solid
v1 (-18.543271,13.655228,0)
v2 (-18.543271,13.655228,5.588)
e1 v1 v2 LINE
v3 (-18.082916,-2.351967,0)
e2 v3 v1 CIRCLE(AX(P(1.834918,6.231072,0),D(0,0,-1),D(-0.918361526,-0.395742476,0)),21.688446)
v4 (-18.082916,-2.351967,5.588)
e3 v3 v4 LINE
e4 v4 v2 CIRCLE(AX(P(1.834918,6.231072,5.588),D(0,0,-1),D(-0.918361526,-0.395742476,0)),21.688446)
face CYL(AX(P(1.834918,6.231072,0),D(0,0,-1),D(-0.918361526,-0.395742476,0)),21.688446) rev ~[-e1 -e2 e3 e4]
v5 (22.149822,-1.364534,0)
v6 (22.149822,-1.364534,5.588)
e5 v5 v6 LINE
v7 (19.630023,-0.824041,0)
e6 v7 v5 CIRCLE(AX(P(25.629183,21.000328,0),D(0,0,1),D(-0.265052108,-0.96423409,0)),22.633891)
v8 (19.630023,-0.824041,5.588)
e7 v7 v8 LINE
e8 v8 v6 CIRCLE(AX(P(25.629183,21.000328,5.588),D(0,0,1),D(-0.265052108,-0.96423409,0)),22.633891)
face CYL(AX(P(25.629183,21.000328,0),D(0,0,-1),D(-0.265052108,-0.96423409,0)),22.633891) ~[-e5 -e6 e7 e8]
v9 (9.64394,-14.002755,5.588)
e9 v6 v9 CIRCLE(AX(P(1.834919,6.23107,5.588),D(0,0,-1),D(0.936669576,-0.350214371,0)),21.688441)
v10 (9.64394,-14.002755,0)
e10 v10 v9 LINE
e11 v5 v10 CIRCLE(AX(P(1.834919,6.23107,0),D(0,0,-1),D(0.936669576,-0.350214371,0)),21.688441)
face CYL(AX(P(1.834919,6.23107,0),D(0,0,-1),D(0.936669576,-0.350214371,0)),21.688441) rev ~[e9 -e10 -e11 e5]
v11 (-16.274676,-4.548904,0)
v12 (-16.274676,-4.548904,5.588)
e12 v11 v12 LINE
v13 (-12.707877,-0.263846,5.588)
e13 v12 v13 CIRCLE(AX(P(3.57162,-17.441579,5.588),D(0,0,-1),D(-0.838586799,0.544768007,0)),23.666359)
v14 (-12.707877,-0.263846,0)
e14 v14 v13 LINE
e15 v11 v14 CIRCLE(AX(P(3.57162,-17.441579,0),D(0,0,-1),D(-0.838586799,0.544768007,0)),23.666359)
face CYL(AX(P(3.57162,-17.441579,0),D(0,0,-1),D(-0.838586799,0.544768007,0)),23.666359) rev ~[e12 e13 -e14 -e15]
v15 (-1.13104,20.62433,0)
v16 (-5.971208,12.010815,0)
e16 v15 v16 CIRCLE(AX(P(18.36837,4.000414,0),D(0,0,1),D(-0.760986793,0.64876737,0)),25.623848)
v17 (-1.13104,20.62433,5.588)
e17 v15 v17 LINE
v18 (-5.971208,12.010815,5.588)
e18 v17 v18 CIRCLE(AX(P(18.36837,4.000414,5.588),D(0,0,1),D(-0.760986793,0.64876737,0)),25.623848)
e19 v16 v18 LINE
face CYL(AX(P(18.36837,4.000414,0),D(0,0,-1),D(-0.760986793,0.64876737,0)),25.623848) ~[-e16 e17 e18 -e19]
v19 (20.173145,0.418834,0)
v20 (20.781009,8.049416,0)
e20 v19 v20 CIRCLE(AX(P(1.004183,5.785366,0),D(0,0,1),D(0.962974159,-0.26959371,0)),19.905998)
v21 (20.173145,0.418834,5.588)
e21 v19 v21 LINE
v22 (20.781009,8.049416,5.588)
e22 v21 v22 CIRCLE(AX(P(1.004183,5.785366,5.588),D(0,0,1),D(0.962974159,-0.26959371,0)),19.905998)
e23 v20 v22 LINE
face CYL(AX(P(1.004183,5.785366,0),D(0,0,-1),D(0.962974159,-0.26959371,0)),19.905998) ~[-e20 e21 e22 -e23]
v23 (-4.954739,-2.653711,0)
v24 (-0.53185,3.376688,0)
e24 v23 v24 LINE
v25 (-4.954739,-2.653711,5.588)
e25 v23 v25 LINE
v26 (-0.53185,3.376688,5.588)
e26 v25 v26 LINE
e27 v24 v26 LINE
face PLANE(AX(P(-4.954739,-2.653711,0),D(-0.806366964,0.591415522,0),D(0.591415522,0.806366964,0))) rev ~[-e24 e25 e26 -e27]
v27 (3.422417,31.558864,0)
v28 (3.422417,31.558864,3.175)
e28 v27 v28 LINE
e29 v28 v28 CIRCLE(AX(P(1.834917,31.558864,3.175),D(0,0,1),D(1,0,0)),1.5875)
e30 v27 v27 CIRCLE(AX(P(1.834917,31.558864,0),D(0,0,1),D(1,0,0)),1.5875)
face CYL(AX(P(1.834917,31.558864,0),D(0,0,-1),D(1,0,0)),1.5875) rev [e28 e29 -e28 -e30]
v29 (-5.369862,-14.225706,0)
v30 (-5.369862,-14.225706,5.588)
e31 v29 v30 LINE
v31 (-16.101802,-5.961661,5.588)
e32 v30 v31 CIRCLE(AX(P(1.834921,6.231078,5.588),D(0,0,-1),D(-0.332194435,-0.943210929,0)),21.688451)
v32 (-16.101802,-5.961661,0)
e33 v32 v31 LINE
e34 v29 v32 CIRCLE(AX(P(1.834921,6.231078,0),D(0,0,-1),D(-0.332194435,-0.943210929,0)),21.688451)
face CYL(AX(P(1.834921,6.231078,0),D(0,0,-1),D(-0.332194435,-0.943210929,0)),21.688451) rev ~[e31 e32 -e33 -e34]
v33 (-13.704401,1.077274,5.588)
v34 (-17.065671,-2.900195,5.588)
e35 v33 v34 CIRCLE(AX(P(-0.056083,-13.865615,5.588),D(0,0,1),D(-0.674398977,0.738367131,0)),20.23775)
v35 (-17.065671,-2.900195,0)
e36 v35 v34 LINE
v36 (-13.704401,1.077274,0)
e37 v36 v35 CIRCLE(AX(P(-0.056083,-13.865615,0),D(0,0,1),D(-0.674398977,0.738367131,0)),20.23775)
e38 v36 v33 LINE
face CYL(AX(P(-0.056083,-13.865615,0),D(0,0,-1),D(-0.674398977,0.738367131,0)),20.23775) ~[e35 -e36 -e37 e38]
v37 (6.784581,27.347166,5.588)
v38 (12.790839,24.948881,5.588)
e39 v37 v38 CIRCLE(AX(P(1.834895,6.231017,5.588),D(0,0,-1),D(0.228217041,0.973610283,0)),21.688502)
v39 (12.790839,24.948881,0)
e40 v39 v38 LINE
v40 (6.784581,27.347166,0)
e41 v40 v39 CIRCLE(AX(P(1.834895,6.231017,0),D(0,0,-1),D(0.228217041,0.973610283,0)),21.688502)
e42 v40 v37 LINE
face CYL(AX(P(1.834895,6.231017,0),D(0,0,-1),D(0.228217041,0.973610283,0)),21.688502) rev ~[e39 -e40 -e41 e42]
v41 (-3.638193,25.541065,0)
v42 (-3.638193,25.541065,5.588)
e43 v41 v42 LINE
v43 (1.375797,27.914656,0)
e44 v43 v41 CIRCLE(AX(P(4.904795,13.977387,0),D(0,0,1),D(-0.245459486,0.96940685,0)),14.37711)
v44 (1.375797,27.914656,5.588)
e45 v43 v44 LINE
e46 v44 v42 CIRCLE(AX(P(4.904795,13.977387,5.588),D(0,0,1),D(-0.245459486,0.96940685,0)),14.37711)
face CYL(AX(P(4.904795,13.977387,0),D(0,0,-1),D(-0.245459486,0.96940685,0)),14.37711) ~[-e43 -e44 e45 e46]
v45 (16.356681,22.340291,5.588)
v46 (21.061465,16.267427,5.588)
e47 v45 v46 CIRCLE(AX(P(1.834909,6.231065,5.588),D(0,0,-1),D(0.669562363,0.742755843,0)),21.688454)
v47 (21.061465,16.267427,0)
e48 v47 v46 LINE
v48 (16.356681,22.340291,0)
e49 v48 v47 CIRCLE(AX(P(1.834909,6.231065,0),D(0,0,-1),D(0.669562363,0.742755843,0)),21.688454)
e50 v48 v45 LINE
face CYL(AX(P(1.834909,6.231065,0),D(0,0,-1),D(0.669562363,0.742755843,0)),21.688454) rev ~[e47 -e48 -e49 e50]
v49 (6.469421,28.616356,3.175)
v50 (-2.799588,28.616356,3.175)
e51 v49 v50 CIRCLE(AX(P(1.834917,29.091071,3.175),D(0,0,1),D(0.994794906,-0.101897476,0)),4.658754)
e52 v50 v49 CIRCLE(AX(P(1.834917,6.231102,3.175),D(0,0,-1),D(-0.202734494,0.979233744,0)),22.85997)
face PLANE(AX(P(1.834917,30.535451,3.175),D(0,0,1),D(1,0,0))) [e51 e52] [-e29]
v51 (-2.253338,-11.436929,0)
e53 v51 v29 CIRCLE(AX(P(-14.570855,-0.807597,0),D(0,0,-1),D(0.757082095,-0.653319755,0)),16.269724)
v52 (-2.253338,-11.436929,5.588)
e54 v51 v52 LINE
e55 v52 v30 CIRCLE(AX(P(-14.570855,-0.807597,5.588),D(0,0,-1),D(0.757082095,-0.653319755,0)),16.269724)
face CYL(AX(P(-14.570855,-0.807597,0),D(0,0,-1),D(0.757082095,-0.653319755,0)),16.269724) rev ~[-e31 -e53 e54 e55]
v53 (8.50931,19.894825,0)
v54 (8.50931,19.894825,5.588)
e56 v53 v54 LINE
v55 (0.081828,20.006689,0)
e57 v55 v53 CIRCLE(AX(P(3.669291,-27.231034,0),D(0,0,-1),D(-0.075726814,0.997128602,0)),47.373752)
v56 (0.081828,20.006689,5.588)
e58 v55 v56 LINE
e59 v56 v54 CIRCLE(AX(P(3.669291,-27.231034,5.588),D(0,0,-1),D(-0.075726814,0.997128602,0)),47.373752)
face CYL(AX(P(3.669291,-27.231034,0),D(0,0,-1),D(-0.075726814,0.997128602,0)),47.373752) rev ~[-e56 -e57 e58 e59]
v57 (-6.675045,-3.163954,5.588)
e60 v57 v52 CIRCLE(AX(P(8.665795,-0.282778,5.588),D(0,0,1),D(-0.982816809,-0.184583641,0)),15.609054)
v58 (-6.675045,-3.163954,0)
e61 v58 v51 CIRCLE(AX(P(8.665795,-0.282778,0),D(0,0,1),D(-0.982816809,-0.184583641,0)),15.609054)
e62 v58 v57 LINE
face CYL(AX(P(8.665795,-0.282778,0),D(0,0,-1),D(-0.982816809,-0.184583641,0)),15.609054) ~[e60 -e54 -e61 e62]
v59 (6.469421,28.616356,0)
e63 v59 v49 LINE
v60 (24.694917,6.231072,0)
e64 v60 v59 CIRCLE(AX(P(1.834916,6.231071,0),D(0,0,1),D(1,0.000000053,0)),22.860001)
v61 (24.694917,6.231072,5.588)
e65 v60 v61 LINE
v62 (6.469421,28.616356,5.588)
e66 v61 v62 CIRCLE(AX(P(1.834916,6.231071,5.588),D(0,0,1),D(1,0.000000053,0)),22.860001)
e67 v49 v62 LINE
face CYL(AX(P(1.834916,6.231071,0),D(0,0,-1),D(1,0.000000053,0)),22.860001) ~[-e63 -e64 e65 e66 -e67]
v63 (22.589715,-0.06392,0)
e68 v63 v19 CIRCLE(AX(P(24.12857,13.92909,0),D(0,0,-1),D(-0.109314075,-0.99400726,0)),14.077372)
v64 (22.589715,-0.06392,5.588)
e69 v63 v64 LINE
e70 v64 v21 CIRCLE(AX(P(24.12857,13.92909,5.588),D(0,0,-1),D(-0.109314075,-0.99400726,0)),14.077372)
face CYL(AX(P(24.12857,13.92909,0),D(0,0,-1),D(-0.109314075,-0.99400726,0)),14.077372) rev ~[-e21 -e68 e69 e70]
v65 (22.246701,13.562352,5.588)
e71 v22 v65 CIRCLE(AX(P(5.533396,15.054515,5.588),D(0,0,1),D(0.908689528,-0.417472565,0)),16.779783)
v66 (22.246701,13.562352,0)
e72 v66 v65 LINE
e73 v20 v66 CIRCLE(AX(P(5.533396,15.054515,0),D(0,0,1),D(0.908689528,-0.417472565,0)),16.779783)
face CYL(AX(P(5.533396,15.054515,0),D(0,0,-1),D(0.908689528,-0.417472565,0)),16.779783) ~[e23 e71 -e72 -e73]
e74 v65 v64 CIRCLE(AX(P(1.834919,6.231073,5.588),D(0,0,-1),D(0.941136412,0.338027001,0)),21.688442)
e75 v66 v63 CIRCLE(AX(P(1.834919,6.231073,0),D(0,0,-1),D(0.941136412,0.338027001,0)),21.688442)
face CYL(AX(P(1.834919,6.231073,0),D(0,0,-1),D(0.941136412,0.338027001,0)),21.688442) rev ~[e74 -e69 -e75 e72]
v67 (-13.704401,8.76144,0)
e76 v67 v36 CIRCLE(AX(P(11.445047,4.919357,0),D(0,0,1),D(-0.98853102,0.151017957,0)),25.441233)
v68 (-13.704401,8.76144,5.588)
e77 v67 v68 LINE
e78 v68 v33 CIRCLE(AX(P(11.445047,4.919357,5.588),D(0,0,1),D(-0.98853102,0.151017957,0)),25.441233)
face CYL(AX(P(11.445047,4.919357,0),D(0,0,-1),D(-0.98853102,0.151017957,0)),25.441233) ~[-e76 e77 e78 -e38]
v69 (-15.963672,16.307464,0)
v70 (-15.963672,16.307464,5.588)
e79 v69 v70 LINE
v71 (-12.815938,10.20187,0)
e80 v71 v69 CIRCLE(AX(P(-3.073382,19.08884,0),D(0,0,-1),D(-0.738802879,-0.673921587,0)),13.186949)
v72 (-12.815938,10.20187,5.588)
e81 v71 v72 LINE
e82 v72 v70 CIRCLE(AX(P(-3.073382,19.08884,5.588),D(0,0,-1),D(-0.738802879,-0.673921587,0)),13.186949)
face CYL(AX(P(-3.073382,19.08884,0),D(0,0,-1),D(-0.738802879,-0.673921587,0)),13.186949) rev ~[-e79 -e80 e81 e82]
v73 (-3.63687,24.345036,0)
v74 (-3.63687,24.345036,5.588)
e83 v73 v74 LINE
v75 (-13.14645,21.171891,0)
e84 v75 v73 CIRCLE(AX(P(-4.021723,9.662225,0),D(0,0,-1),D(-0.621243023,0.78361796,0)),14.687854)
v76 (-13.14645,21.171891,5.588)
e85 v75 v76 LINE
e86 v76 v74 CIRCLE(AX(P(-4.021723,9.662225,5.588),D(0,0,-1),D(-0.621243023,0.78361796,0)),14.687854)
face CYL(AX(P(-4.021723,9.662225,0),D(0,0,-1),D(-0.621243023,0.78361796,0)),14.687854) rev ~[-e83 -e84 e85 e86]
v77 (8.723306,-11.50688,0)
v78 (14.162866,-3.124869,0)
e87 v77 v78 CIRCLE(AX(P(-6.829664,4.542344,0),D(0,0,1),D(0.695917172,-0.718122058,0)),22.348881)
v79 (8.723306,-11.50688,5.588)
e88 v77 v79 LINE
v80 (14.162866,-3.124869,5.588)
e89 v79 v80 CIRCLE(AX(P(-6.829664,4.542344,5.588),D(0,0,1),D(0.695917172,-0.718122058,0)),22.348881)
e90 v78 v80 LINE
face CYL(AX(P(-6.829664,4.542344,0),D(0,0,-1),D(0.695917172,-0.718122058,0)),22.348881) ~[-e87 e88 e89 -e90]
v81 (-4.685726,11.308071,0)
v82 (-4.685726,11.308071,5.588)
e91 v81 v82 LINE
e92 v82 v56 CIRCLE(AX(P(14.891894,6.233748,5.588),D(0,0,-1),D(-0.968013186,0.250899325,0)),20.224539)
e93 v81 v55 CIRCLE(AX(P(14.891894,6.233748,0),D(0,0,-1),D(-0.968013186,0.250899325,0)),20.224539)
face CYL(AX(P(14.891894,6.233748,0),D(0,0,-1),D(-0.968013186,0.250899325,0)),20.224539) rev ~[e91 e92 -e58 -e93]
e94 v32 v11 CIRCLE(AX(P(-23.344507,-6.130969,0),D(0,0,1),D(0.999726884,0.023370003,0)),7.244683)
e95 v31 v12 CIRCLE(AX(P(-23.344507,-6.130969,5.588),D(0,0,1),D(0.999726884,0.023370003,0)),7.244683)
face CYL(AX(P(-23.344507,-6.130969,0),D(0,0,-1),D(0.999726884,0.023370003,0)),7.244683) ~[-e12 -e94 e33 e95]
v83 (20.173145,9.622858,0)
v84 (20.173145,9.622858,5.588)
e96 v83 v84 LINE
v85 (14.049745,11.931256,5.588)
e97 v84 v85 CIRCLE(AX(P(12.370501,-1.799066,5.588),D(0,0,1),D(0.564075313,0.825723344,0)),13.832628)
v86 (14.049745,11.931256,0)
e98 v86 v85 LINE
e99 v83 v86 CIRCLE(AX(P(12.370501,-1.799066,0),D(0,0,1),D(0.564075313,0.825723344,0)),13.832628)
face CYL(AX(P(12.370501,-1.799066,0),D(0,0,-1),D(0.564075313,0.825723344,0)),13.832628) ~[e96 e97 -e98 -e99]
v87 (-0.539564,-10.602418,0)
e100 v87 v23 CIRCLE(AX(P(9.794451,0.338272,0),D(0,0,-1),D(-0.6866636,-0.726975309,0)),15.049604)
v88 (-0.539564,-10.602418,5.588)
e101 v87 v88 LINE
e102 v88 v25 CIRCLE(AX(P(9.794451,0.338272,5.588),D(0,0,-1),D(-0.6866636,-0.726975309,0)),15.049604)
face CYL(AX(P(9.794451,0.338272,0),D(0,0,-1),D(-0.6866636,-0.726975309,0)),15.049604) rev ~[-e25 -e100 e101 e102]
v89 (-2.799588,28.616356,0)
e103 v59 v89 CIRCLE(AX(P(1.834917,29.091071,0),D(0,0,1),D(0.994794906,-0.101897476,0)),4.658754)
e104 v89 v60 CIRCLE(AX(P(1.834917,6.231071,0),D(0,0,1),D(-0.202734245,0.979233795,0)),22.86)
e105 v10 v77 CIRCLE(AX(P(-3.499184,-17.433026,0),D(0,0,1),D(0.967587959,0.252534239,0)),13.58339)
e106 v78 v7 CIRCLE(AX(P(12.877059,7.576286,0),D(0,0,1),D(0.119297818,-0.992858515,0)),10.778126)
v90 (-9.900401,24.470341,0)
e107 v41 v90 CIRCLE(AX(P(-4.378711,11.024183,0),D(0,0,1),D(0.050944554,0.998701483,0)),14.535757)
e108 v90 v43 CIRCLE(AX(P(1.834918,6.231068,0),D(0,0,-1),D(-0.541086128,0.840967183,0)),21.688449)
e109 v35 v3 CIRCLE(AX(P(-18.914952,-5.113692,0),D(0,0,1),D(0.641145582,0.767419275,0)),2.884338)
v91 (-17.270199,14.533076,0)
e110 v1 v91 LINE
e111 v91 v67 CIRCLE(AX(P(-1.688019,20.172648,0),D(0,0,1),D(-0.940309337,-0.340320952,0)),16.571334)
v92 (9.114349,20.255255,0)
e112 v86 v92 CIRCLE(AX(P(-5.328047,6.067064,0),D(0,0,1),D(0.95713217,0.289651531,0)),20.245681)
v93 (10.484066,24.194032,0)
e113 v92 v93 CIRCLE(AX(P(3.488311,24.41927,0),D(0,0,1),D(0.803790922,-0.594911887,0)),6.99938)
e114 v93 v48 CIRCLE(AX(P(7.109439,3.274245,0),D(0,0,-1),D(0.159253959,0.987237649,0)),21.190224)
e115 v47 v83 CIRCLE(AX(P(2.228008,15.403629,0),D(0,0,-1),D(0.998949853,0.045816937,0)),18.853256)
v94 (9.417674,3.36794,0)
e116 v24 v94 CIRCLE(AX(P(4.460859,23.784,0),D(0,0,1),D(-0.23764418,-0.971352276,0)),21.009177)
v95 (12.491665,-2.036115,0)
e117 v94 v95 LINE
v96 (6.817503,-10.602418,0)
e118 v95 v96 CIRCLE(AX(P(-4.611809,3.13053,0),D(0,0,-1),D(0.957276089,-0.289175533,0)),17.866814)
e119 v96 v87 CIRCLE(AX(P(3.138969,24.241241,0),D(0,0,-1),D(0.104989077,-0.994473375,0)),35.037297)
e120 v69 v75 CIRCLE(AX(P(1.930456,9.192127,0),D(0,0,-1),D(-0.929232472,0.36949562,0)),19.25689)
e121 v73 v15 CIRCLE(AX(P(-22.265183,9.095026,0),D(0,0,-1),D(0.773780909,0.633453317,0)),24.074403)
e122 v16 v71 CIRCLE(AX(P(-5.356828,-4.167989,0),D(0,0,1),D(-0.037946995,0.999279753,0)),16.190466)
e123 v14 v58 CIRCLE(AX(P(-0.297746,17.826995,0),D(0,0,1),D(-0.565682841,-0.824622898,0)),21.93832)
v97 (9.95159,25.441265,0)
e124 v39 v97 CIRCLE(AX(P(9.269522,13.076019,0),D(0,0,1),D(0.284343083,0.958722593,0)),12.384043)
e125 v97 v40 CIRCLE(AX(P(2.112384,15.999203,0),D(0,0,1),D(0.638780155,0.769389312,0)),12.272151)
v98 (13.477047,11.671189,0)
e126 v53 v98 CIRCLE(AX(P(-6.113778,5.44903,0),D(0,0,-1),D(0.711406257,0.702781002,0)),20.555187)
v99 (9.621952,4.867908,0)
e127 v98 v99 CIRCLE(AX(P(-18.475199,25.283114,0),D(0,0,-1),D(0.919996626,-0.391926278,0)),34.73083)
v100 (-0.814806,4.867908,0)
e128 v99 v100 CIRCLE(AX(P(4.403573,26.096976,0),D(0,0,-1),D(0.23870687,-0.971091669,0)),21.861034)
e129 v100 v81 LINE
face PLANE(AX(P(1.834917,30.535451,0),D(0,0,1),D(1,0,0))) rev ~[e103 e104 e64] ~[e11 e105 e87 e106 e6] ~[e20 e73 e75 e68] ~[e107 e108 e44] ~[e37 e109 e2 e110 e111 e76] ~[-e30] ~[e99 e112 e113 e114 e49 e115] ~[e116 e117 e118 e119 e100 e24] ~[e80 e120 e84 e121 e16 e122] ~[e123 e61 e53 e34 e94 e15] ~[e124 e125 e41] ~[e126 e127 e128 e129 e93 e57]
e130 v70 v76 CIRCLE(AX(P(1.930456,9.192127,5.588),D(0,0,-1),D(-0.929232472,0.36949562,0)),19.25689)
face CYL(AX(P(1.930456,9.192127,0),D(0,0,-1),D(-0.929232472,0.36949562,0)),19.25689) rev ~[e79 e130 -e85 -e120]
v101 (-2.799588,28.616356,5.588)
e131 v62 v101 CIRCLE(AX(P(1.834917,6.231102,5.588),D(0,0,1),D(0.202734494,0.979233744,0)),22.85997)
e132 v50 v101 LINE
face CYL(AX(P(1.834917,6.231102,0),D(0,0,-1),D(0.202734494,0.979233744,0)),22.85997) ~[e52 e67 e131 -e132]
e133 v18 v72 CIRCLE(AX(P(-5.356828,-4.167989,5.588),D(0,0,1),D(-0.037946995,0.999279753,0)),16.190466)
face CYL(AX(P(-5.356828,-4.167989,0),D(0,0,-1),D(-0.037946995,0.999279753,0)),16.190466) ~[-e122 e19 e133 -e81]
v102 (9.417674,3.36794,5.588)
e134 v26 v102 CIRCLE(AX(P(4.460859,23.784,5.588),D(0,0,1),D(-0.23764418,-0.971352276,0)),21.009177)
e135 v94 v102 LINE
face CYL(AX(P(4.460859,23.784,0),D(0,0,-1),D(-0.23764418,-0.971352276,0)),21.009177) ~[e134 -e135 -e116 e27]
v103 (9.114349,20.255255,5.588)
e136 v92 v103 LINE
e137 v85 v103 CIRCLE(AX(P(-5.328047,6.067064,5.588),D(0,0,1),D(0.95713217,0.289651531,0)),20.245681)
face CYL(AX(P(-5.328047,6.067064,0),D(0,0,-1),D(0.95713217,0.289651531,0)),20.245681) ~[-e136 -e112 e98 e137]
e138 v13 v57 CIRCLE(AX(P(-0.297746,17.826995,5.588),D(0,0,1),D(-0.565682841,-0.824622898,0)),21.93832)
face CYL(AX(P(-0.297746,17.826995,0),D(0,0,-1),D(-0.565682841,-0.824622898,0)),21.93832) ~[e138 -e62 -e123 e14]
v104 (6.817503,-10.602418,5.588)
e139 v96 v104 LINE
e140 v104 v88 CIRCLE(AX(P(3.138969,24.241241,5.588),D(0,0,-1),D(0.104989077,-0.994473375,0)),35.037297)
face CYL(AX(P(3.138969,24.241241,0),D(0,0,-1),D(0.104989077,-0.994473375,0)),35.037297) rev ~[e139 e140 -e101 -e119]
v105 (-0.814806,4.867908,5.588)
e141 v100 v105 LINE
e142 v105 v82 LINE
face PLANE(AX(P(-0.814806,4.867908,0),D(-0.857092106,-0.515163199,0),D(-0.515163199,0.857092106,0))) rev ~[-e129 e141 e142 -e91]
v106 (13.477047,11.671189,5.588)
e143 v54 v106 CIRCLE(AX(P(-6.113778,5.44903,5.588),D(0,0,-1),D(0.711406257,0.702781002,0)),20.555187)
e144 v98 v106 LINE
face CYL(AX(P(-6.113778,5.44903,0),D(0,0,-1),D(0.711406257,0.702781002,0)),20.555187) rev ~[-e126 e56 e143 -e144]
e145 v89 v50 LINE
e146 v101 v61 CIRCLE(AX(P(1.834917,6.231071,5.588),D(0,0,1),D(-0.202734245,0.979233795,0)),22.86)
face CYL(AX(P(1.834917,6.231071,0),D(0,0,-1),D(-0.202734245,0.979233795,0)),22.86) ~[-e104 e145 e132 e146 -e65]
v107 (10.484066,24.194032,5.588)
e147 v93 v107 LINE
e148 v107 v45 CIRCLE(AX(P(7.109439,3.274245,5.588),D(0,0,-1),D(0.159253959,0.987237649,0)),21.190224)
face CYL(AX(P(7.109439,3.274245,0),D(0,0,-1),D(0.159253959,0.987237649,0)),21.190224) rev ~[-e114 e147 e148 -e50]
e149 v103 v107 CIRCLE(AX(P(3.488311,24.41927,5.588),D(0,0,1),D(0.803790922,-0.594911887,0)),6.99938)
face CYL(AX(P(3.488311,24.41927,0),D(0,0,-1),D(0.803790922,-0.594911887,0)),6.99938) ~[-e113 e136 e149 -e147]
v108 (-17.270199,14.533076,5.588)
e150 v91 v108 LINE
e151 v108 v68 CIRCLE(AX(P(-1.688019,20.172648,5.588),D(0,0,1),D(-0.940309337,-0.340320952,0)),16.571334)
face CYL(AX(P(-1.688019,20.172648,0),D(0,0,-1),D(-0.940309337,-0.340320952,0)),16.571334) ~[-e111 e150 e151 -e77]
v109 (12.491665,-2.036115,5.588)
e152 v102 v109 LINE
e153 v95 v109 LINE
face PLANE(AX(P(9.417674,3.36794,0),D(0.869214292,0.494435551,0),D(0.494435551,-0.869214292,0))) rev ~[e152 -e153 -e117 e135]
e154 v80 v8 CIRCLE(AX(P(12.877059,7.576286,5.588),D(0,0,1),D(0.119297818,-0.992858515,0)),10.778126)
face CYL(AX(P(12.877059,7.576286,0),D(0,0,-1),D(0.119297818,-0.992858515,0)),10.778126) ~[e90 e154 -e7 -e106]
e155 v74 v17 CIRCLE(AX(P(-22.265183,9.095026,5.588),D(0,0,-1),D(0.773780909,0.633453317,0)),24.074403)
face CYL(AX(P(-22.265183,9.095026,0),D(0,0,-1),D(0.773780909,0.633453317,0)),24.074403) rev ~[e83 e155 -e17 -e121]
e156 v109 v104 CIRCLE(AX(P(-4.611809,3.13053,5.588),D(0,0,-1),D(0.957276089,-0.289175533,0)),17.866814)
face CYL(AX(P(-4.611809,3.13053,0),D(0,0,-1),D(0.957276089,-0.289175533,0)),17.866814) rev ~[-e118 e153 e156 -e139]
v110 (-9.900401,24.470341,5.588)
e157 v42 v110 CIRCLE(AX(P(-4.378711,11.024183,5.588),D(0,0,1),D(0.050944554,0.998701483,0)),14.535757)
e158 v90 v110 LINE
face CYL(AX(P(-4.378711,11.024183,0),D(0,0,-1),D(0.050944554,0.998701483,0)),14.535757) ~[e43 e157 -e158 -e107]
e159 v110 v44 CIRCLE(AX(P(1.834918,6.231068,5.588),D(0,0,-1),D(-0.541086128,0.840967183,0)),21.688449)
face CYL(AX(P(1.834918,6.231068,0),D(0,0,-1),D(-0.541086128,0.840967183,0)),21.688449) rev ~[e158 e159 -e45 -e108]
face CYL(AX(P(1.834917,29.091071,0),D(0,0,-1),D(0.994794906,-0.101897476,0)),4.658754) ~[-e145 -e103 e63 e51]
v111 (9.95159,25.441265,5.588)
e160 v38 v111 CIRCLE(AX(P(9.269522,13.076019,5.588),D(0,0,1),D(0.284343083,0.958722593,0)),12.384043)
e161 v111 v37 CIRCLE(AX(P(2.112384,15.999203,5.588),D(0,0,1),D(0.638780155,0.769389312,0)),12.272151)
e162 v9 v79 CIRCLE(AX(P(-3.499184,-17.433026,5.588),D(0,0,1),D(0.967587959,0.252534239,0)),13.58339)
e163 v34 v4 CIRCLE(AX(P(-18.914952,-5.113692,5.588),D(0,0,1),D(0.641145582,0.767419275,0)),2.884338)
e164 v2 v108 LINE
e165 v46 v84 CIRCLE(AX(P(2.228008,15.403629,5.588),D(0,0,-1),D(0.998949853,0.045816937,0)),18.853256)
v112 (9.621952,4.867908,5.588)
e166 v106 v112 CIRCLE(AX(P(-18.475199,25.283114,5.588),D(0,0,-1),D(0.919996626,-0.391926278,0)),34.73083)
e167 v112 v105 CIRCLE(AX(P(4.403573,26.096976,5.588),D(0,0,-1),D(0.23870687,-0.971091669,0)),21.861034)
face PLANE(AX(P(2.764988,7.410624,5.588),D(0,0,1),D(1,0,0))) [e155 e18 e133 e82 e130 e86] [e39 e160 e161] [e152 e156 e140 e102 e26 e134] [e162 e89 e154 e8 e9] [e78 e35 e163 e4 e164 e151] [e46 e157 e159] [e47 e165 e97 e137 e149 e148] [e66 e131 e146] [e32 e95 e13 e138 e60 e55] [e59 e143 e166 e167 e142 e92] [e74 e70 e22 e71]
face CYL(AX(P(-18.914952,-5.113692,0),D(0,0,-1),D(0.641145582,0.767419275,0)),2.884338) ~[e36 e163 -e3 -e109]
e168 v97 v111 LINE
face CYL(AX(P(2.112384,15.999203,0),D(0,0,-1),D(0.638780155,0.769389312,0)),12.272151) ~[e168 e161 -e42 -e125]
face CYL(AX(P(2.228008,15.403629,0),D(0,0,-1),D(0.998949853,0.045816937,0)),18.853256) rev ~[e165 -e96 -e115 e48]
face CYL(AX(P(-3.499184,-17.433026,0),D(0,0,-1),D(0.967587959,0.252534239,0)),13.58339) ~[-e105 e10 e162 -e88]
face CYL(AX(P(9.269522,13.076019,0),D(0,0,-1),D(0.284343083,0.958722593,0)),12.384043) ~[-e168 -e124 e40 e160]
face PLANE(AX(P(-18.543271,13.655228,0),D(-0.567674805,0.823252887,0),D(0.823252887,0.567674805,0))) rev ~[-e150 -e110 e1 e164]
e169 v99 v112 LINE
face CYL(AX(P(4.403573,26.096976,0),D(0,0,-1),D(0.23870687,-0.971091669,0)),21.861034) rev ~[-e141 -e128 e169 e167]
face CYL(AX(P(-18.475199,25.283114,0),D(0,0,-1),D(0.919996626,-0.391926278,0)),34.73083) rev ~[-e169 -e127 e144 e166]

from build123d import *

# Parameters (mm, degrees)
F1_DEPTH = 5.588
F0_R     = 1.5875
F2_DEPTH = 3.175


with BuildPart() as f1:
    # F0 (on Top) → F1 (new body)
    with BuildSketch(Plane.XY):
        with BuildLine():
            ThreePointArc((-2.799588, 28.616356), (-12.598289, -11.49637), (24.694917, 6.231072))
            ThreePointArc((24.694917, 6.231072), (19.562358, 20.664277), (6.469421, 28.616356))
            ThreePointArc((6.469421, 28.616356), (1.834917, 29.091072), (-2.799588, 28.616356))
        make_face()
        with BuildLine():
            ThreePointArc((-5.369862, -14.225706), (-11.397518, -10.952969), (-16.101802, -5.961661))
            ThreePointArc((-16.101802, -5.961661), (-16.153461, -5.251027), (-16.274676, -4.548904))
            ThreePointArc((-16.274676, -4.548904), (-14.617901, -2.300976), (-12.707877, -0.263846))
            ThreePointArc((-12.707877, -0.263846), (-9.80272, -1.945343), (-6.675045, -3.163954))
            ThreePointArc((-6.675045, -3.163954), (-5.100362, -7.640459), (-2.253338, -11.436929))
            ThreePointArc((-2.253338, -11.436929), (-3.721621, -12.931872), (-5.369862, -14.225706))
        make_face(mode=Mode.SUBTRACT)
        with BuildLine():
            ThreePointArc((-18.082916, -2.351967), (-19.844564, 5.607587), (-18.543271, 13.655228))
            Line((-18.543271, 13.655228), (-17.270199, 14.533076))
            ThreePointArc((-17.270199, 14.533076), (-15.785824, 11.462826), (-13.704401, 8.76144))
            ThreePointArc((-13.704401, 8.76144), (-13.996186, 4.919357), (-13.704401, 1.077274))
            ThreePointArc((-13.704401, 1.077274), (-15.513504, -0.802895), (-17.065671, -2.900195))
            ThreePointArc((-17.065671, -2.900195), (-17.546558, -2.574616), (-18.082916, -2.351967))
        make_face(mode=Mode.SUBTRACT)
        with BuildLine():
            ThreePointArc((22.149822, -1.364534), (17.251466, -9.024046), (9.64394, -14.002755))
            ThreePointArc((9.64394, -14.002755), (9.244871, -12.732225), (8.723306, -11.50688))
            ThreePointArc((8.723306, -11.50688), (11.917547, -7.623779), (14.162866, -3.124869))
            ThreePointArc((14.162866, -3.124869), (17.057838, -2.357953), (19.630023, -0.824041))
            ThreePointArc((19.630023, -0.824041), (20.882224, -1.13018), (22.149822, -1.364534))
        make_face(mode=Mode.SUBTRACT)
        with BuildLine():
            ThreePointArc((-0.539564, -10.602418), (-3.361813, -6.969483), (-4.954739, -2.653711))
            Line((-4.954739, -2.653711), (-0.53185, 3.376688))
            ThreePointArc((-0.53185, 3.376688), (4.442387, 2.774831), (9.417674, 3.36794))
            Line((9.417674, 3.36794), (12.491665, -2.036115))
            ThreePointArc((12.491665, -2.036115), (10.283672, -6.735963), (6.817503, -10.602418))
            ThreePointArc((6.817503, -10.602418), (3.138969, -10.796056), (-0.539564, -10.602418))
        make_face(mode=Mode.SUBTRACT)
        with BuildLine():
            ThreePointArc((20.173145, 0.418834), (20.847319, 4.204631), (20.781009, 8.049416))
            ThreePointArc((20.781009, 8.049416), (21.749844, 10.743143), (22.246701, 13.562352))
            ThreePointArc((22.246701, 13.562352), (23.516492, 6.776863), (22.589715, -0.06392))
            ThreePointArc((22.589715, -0.06392), (21.370847, 0.124476), (20.173145, 0.418834))
        make_face(mode=Mode.SUBTRACT)
        with BuildLine():
            ThreePointArc((-15.963672, 16.307464), (-14.733515, 18.843029), (-13.14645, 21.171891))
            ThreePointArc((-13.14645, 21.171891), (-8.670762, 23.594902), (-3.63687, 24.345036))
            ThreePointArc((-3.63687, 24.345036), (-2.297105, 22.543175), (-1.13104, 20.62433))
            ThreePointArc((-1.13104, 20.62433), (-3.970215, 16.553071), (-5.971208, 12.010815))
            ThreePointArc((-5.971208, 12.010815), (-9.49366, 11.485055), (-12.815938, 10.20187))
            ThreePointArc((-12.815938, 10.20187), (-14.794346, 13.046106), (-15.963672, 16.307464))
        make_face(mode=Mode.SUBTRACT)
        with BuildLine():
            ThreePointArc((1.375797, 27.914656), (-1.246765, 26.971986), (-3.638193, 25.541065))
            ThreePointArc((-3.638193, 25.541065), (-6.82851, 25.352013), (-9.900401, 24.470341))
            ThreePointArc((-9.900401, 24.470341), (-4.500847, 26.973461), (1.375797, 27.914656))
        make_face(mode=Mode.SUBTRACT)
        with BuildLine():
            Line((-0.814806, 4.867908), (-4.685726, 11.308071))
            ThreePointArc((-4.685726, 11.308071), (-2.843515, 15.954202), (0.081828, 20.006689))
            ThreePointArc((0.081828, 20.006689), (4.298062, 20.138545), (8.50931, 19.894825))
            ThreePointArc((8.50931, 19.894825), (11.480397, 16.077327), (13.477047, 11.671189))
            ThreePointArc((13.477047, 11.671189), (11.741579, 8.160706), (9.621952, 4.867908))
            ThreePointArc((9.621952, 4.867908), (4.403573, 4.235942), (-0.814806, 4.867908))
        make_face(mode=Mode.SUBTRACT)
        with BuildLine():
            ThreePointArc((10.484066, 24.194032), (13.488074, 23.481635), (16.356681, 22.340291))
            ThreePointArc((16.356681, 22.340291), (18.980093, 19.513824), (21.061465, 16.267427))
            ThreePointArc((21.061465, 16.267427), (20.915004, 12.905343), (20.173145, 9.622858))
            ThreePointArc((20.173145, 9.622858), (17.24992, 11.144383), (14.049745, 11.931256))
            ThreePointArc((14.049745, 11.931256), (12.086703, 16.392472), (9.114349, 20.255255))
            ThreePointArc((9.114349, 20.255255), (10.099355, 22.120266), (10.484066, 24.194032))
        make_face(mode=Mode.SUBTRACT)
        with BuildLine():
            ThreePointArc((12.790839, 24.948881), (11.385585, 25.277937), (9.95159, 25.441265))
            ThreePointArc((9.95159, 25.441265), (8.440252, 26.514134), (6.784581, 27.347166))
            ThreePointArc((6.784581, 27.347166), (9.877607, 26.37316), (12.790839, 24.948881))
        make_face(mode=Mode.SUBTRACT)
    extrude(amount=F1_DEPTH)

    # F0 (on Top) → F2 (join)
    with BuildSketch(Plane.XY):
        with BuildLine():
            ThreePointArc((-2.799588, 28.616356), (1.834917, 29.091072), (6.469421, 28.616356))
            ThreePointArc((6.469421, 28.616356), (1.834917, 33.749825), (-2.799588, 28.616356))
        make_face()
        with Locations((1.834917, 31.558864)):
            Circle(F0_R, mode=Mode.SUBTRACT)
    extrude(amount=F2_DEPTH)


solid = f1.part
